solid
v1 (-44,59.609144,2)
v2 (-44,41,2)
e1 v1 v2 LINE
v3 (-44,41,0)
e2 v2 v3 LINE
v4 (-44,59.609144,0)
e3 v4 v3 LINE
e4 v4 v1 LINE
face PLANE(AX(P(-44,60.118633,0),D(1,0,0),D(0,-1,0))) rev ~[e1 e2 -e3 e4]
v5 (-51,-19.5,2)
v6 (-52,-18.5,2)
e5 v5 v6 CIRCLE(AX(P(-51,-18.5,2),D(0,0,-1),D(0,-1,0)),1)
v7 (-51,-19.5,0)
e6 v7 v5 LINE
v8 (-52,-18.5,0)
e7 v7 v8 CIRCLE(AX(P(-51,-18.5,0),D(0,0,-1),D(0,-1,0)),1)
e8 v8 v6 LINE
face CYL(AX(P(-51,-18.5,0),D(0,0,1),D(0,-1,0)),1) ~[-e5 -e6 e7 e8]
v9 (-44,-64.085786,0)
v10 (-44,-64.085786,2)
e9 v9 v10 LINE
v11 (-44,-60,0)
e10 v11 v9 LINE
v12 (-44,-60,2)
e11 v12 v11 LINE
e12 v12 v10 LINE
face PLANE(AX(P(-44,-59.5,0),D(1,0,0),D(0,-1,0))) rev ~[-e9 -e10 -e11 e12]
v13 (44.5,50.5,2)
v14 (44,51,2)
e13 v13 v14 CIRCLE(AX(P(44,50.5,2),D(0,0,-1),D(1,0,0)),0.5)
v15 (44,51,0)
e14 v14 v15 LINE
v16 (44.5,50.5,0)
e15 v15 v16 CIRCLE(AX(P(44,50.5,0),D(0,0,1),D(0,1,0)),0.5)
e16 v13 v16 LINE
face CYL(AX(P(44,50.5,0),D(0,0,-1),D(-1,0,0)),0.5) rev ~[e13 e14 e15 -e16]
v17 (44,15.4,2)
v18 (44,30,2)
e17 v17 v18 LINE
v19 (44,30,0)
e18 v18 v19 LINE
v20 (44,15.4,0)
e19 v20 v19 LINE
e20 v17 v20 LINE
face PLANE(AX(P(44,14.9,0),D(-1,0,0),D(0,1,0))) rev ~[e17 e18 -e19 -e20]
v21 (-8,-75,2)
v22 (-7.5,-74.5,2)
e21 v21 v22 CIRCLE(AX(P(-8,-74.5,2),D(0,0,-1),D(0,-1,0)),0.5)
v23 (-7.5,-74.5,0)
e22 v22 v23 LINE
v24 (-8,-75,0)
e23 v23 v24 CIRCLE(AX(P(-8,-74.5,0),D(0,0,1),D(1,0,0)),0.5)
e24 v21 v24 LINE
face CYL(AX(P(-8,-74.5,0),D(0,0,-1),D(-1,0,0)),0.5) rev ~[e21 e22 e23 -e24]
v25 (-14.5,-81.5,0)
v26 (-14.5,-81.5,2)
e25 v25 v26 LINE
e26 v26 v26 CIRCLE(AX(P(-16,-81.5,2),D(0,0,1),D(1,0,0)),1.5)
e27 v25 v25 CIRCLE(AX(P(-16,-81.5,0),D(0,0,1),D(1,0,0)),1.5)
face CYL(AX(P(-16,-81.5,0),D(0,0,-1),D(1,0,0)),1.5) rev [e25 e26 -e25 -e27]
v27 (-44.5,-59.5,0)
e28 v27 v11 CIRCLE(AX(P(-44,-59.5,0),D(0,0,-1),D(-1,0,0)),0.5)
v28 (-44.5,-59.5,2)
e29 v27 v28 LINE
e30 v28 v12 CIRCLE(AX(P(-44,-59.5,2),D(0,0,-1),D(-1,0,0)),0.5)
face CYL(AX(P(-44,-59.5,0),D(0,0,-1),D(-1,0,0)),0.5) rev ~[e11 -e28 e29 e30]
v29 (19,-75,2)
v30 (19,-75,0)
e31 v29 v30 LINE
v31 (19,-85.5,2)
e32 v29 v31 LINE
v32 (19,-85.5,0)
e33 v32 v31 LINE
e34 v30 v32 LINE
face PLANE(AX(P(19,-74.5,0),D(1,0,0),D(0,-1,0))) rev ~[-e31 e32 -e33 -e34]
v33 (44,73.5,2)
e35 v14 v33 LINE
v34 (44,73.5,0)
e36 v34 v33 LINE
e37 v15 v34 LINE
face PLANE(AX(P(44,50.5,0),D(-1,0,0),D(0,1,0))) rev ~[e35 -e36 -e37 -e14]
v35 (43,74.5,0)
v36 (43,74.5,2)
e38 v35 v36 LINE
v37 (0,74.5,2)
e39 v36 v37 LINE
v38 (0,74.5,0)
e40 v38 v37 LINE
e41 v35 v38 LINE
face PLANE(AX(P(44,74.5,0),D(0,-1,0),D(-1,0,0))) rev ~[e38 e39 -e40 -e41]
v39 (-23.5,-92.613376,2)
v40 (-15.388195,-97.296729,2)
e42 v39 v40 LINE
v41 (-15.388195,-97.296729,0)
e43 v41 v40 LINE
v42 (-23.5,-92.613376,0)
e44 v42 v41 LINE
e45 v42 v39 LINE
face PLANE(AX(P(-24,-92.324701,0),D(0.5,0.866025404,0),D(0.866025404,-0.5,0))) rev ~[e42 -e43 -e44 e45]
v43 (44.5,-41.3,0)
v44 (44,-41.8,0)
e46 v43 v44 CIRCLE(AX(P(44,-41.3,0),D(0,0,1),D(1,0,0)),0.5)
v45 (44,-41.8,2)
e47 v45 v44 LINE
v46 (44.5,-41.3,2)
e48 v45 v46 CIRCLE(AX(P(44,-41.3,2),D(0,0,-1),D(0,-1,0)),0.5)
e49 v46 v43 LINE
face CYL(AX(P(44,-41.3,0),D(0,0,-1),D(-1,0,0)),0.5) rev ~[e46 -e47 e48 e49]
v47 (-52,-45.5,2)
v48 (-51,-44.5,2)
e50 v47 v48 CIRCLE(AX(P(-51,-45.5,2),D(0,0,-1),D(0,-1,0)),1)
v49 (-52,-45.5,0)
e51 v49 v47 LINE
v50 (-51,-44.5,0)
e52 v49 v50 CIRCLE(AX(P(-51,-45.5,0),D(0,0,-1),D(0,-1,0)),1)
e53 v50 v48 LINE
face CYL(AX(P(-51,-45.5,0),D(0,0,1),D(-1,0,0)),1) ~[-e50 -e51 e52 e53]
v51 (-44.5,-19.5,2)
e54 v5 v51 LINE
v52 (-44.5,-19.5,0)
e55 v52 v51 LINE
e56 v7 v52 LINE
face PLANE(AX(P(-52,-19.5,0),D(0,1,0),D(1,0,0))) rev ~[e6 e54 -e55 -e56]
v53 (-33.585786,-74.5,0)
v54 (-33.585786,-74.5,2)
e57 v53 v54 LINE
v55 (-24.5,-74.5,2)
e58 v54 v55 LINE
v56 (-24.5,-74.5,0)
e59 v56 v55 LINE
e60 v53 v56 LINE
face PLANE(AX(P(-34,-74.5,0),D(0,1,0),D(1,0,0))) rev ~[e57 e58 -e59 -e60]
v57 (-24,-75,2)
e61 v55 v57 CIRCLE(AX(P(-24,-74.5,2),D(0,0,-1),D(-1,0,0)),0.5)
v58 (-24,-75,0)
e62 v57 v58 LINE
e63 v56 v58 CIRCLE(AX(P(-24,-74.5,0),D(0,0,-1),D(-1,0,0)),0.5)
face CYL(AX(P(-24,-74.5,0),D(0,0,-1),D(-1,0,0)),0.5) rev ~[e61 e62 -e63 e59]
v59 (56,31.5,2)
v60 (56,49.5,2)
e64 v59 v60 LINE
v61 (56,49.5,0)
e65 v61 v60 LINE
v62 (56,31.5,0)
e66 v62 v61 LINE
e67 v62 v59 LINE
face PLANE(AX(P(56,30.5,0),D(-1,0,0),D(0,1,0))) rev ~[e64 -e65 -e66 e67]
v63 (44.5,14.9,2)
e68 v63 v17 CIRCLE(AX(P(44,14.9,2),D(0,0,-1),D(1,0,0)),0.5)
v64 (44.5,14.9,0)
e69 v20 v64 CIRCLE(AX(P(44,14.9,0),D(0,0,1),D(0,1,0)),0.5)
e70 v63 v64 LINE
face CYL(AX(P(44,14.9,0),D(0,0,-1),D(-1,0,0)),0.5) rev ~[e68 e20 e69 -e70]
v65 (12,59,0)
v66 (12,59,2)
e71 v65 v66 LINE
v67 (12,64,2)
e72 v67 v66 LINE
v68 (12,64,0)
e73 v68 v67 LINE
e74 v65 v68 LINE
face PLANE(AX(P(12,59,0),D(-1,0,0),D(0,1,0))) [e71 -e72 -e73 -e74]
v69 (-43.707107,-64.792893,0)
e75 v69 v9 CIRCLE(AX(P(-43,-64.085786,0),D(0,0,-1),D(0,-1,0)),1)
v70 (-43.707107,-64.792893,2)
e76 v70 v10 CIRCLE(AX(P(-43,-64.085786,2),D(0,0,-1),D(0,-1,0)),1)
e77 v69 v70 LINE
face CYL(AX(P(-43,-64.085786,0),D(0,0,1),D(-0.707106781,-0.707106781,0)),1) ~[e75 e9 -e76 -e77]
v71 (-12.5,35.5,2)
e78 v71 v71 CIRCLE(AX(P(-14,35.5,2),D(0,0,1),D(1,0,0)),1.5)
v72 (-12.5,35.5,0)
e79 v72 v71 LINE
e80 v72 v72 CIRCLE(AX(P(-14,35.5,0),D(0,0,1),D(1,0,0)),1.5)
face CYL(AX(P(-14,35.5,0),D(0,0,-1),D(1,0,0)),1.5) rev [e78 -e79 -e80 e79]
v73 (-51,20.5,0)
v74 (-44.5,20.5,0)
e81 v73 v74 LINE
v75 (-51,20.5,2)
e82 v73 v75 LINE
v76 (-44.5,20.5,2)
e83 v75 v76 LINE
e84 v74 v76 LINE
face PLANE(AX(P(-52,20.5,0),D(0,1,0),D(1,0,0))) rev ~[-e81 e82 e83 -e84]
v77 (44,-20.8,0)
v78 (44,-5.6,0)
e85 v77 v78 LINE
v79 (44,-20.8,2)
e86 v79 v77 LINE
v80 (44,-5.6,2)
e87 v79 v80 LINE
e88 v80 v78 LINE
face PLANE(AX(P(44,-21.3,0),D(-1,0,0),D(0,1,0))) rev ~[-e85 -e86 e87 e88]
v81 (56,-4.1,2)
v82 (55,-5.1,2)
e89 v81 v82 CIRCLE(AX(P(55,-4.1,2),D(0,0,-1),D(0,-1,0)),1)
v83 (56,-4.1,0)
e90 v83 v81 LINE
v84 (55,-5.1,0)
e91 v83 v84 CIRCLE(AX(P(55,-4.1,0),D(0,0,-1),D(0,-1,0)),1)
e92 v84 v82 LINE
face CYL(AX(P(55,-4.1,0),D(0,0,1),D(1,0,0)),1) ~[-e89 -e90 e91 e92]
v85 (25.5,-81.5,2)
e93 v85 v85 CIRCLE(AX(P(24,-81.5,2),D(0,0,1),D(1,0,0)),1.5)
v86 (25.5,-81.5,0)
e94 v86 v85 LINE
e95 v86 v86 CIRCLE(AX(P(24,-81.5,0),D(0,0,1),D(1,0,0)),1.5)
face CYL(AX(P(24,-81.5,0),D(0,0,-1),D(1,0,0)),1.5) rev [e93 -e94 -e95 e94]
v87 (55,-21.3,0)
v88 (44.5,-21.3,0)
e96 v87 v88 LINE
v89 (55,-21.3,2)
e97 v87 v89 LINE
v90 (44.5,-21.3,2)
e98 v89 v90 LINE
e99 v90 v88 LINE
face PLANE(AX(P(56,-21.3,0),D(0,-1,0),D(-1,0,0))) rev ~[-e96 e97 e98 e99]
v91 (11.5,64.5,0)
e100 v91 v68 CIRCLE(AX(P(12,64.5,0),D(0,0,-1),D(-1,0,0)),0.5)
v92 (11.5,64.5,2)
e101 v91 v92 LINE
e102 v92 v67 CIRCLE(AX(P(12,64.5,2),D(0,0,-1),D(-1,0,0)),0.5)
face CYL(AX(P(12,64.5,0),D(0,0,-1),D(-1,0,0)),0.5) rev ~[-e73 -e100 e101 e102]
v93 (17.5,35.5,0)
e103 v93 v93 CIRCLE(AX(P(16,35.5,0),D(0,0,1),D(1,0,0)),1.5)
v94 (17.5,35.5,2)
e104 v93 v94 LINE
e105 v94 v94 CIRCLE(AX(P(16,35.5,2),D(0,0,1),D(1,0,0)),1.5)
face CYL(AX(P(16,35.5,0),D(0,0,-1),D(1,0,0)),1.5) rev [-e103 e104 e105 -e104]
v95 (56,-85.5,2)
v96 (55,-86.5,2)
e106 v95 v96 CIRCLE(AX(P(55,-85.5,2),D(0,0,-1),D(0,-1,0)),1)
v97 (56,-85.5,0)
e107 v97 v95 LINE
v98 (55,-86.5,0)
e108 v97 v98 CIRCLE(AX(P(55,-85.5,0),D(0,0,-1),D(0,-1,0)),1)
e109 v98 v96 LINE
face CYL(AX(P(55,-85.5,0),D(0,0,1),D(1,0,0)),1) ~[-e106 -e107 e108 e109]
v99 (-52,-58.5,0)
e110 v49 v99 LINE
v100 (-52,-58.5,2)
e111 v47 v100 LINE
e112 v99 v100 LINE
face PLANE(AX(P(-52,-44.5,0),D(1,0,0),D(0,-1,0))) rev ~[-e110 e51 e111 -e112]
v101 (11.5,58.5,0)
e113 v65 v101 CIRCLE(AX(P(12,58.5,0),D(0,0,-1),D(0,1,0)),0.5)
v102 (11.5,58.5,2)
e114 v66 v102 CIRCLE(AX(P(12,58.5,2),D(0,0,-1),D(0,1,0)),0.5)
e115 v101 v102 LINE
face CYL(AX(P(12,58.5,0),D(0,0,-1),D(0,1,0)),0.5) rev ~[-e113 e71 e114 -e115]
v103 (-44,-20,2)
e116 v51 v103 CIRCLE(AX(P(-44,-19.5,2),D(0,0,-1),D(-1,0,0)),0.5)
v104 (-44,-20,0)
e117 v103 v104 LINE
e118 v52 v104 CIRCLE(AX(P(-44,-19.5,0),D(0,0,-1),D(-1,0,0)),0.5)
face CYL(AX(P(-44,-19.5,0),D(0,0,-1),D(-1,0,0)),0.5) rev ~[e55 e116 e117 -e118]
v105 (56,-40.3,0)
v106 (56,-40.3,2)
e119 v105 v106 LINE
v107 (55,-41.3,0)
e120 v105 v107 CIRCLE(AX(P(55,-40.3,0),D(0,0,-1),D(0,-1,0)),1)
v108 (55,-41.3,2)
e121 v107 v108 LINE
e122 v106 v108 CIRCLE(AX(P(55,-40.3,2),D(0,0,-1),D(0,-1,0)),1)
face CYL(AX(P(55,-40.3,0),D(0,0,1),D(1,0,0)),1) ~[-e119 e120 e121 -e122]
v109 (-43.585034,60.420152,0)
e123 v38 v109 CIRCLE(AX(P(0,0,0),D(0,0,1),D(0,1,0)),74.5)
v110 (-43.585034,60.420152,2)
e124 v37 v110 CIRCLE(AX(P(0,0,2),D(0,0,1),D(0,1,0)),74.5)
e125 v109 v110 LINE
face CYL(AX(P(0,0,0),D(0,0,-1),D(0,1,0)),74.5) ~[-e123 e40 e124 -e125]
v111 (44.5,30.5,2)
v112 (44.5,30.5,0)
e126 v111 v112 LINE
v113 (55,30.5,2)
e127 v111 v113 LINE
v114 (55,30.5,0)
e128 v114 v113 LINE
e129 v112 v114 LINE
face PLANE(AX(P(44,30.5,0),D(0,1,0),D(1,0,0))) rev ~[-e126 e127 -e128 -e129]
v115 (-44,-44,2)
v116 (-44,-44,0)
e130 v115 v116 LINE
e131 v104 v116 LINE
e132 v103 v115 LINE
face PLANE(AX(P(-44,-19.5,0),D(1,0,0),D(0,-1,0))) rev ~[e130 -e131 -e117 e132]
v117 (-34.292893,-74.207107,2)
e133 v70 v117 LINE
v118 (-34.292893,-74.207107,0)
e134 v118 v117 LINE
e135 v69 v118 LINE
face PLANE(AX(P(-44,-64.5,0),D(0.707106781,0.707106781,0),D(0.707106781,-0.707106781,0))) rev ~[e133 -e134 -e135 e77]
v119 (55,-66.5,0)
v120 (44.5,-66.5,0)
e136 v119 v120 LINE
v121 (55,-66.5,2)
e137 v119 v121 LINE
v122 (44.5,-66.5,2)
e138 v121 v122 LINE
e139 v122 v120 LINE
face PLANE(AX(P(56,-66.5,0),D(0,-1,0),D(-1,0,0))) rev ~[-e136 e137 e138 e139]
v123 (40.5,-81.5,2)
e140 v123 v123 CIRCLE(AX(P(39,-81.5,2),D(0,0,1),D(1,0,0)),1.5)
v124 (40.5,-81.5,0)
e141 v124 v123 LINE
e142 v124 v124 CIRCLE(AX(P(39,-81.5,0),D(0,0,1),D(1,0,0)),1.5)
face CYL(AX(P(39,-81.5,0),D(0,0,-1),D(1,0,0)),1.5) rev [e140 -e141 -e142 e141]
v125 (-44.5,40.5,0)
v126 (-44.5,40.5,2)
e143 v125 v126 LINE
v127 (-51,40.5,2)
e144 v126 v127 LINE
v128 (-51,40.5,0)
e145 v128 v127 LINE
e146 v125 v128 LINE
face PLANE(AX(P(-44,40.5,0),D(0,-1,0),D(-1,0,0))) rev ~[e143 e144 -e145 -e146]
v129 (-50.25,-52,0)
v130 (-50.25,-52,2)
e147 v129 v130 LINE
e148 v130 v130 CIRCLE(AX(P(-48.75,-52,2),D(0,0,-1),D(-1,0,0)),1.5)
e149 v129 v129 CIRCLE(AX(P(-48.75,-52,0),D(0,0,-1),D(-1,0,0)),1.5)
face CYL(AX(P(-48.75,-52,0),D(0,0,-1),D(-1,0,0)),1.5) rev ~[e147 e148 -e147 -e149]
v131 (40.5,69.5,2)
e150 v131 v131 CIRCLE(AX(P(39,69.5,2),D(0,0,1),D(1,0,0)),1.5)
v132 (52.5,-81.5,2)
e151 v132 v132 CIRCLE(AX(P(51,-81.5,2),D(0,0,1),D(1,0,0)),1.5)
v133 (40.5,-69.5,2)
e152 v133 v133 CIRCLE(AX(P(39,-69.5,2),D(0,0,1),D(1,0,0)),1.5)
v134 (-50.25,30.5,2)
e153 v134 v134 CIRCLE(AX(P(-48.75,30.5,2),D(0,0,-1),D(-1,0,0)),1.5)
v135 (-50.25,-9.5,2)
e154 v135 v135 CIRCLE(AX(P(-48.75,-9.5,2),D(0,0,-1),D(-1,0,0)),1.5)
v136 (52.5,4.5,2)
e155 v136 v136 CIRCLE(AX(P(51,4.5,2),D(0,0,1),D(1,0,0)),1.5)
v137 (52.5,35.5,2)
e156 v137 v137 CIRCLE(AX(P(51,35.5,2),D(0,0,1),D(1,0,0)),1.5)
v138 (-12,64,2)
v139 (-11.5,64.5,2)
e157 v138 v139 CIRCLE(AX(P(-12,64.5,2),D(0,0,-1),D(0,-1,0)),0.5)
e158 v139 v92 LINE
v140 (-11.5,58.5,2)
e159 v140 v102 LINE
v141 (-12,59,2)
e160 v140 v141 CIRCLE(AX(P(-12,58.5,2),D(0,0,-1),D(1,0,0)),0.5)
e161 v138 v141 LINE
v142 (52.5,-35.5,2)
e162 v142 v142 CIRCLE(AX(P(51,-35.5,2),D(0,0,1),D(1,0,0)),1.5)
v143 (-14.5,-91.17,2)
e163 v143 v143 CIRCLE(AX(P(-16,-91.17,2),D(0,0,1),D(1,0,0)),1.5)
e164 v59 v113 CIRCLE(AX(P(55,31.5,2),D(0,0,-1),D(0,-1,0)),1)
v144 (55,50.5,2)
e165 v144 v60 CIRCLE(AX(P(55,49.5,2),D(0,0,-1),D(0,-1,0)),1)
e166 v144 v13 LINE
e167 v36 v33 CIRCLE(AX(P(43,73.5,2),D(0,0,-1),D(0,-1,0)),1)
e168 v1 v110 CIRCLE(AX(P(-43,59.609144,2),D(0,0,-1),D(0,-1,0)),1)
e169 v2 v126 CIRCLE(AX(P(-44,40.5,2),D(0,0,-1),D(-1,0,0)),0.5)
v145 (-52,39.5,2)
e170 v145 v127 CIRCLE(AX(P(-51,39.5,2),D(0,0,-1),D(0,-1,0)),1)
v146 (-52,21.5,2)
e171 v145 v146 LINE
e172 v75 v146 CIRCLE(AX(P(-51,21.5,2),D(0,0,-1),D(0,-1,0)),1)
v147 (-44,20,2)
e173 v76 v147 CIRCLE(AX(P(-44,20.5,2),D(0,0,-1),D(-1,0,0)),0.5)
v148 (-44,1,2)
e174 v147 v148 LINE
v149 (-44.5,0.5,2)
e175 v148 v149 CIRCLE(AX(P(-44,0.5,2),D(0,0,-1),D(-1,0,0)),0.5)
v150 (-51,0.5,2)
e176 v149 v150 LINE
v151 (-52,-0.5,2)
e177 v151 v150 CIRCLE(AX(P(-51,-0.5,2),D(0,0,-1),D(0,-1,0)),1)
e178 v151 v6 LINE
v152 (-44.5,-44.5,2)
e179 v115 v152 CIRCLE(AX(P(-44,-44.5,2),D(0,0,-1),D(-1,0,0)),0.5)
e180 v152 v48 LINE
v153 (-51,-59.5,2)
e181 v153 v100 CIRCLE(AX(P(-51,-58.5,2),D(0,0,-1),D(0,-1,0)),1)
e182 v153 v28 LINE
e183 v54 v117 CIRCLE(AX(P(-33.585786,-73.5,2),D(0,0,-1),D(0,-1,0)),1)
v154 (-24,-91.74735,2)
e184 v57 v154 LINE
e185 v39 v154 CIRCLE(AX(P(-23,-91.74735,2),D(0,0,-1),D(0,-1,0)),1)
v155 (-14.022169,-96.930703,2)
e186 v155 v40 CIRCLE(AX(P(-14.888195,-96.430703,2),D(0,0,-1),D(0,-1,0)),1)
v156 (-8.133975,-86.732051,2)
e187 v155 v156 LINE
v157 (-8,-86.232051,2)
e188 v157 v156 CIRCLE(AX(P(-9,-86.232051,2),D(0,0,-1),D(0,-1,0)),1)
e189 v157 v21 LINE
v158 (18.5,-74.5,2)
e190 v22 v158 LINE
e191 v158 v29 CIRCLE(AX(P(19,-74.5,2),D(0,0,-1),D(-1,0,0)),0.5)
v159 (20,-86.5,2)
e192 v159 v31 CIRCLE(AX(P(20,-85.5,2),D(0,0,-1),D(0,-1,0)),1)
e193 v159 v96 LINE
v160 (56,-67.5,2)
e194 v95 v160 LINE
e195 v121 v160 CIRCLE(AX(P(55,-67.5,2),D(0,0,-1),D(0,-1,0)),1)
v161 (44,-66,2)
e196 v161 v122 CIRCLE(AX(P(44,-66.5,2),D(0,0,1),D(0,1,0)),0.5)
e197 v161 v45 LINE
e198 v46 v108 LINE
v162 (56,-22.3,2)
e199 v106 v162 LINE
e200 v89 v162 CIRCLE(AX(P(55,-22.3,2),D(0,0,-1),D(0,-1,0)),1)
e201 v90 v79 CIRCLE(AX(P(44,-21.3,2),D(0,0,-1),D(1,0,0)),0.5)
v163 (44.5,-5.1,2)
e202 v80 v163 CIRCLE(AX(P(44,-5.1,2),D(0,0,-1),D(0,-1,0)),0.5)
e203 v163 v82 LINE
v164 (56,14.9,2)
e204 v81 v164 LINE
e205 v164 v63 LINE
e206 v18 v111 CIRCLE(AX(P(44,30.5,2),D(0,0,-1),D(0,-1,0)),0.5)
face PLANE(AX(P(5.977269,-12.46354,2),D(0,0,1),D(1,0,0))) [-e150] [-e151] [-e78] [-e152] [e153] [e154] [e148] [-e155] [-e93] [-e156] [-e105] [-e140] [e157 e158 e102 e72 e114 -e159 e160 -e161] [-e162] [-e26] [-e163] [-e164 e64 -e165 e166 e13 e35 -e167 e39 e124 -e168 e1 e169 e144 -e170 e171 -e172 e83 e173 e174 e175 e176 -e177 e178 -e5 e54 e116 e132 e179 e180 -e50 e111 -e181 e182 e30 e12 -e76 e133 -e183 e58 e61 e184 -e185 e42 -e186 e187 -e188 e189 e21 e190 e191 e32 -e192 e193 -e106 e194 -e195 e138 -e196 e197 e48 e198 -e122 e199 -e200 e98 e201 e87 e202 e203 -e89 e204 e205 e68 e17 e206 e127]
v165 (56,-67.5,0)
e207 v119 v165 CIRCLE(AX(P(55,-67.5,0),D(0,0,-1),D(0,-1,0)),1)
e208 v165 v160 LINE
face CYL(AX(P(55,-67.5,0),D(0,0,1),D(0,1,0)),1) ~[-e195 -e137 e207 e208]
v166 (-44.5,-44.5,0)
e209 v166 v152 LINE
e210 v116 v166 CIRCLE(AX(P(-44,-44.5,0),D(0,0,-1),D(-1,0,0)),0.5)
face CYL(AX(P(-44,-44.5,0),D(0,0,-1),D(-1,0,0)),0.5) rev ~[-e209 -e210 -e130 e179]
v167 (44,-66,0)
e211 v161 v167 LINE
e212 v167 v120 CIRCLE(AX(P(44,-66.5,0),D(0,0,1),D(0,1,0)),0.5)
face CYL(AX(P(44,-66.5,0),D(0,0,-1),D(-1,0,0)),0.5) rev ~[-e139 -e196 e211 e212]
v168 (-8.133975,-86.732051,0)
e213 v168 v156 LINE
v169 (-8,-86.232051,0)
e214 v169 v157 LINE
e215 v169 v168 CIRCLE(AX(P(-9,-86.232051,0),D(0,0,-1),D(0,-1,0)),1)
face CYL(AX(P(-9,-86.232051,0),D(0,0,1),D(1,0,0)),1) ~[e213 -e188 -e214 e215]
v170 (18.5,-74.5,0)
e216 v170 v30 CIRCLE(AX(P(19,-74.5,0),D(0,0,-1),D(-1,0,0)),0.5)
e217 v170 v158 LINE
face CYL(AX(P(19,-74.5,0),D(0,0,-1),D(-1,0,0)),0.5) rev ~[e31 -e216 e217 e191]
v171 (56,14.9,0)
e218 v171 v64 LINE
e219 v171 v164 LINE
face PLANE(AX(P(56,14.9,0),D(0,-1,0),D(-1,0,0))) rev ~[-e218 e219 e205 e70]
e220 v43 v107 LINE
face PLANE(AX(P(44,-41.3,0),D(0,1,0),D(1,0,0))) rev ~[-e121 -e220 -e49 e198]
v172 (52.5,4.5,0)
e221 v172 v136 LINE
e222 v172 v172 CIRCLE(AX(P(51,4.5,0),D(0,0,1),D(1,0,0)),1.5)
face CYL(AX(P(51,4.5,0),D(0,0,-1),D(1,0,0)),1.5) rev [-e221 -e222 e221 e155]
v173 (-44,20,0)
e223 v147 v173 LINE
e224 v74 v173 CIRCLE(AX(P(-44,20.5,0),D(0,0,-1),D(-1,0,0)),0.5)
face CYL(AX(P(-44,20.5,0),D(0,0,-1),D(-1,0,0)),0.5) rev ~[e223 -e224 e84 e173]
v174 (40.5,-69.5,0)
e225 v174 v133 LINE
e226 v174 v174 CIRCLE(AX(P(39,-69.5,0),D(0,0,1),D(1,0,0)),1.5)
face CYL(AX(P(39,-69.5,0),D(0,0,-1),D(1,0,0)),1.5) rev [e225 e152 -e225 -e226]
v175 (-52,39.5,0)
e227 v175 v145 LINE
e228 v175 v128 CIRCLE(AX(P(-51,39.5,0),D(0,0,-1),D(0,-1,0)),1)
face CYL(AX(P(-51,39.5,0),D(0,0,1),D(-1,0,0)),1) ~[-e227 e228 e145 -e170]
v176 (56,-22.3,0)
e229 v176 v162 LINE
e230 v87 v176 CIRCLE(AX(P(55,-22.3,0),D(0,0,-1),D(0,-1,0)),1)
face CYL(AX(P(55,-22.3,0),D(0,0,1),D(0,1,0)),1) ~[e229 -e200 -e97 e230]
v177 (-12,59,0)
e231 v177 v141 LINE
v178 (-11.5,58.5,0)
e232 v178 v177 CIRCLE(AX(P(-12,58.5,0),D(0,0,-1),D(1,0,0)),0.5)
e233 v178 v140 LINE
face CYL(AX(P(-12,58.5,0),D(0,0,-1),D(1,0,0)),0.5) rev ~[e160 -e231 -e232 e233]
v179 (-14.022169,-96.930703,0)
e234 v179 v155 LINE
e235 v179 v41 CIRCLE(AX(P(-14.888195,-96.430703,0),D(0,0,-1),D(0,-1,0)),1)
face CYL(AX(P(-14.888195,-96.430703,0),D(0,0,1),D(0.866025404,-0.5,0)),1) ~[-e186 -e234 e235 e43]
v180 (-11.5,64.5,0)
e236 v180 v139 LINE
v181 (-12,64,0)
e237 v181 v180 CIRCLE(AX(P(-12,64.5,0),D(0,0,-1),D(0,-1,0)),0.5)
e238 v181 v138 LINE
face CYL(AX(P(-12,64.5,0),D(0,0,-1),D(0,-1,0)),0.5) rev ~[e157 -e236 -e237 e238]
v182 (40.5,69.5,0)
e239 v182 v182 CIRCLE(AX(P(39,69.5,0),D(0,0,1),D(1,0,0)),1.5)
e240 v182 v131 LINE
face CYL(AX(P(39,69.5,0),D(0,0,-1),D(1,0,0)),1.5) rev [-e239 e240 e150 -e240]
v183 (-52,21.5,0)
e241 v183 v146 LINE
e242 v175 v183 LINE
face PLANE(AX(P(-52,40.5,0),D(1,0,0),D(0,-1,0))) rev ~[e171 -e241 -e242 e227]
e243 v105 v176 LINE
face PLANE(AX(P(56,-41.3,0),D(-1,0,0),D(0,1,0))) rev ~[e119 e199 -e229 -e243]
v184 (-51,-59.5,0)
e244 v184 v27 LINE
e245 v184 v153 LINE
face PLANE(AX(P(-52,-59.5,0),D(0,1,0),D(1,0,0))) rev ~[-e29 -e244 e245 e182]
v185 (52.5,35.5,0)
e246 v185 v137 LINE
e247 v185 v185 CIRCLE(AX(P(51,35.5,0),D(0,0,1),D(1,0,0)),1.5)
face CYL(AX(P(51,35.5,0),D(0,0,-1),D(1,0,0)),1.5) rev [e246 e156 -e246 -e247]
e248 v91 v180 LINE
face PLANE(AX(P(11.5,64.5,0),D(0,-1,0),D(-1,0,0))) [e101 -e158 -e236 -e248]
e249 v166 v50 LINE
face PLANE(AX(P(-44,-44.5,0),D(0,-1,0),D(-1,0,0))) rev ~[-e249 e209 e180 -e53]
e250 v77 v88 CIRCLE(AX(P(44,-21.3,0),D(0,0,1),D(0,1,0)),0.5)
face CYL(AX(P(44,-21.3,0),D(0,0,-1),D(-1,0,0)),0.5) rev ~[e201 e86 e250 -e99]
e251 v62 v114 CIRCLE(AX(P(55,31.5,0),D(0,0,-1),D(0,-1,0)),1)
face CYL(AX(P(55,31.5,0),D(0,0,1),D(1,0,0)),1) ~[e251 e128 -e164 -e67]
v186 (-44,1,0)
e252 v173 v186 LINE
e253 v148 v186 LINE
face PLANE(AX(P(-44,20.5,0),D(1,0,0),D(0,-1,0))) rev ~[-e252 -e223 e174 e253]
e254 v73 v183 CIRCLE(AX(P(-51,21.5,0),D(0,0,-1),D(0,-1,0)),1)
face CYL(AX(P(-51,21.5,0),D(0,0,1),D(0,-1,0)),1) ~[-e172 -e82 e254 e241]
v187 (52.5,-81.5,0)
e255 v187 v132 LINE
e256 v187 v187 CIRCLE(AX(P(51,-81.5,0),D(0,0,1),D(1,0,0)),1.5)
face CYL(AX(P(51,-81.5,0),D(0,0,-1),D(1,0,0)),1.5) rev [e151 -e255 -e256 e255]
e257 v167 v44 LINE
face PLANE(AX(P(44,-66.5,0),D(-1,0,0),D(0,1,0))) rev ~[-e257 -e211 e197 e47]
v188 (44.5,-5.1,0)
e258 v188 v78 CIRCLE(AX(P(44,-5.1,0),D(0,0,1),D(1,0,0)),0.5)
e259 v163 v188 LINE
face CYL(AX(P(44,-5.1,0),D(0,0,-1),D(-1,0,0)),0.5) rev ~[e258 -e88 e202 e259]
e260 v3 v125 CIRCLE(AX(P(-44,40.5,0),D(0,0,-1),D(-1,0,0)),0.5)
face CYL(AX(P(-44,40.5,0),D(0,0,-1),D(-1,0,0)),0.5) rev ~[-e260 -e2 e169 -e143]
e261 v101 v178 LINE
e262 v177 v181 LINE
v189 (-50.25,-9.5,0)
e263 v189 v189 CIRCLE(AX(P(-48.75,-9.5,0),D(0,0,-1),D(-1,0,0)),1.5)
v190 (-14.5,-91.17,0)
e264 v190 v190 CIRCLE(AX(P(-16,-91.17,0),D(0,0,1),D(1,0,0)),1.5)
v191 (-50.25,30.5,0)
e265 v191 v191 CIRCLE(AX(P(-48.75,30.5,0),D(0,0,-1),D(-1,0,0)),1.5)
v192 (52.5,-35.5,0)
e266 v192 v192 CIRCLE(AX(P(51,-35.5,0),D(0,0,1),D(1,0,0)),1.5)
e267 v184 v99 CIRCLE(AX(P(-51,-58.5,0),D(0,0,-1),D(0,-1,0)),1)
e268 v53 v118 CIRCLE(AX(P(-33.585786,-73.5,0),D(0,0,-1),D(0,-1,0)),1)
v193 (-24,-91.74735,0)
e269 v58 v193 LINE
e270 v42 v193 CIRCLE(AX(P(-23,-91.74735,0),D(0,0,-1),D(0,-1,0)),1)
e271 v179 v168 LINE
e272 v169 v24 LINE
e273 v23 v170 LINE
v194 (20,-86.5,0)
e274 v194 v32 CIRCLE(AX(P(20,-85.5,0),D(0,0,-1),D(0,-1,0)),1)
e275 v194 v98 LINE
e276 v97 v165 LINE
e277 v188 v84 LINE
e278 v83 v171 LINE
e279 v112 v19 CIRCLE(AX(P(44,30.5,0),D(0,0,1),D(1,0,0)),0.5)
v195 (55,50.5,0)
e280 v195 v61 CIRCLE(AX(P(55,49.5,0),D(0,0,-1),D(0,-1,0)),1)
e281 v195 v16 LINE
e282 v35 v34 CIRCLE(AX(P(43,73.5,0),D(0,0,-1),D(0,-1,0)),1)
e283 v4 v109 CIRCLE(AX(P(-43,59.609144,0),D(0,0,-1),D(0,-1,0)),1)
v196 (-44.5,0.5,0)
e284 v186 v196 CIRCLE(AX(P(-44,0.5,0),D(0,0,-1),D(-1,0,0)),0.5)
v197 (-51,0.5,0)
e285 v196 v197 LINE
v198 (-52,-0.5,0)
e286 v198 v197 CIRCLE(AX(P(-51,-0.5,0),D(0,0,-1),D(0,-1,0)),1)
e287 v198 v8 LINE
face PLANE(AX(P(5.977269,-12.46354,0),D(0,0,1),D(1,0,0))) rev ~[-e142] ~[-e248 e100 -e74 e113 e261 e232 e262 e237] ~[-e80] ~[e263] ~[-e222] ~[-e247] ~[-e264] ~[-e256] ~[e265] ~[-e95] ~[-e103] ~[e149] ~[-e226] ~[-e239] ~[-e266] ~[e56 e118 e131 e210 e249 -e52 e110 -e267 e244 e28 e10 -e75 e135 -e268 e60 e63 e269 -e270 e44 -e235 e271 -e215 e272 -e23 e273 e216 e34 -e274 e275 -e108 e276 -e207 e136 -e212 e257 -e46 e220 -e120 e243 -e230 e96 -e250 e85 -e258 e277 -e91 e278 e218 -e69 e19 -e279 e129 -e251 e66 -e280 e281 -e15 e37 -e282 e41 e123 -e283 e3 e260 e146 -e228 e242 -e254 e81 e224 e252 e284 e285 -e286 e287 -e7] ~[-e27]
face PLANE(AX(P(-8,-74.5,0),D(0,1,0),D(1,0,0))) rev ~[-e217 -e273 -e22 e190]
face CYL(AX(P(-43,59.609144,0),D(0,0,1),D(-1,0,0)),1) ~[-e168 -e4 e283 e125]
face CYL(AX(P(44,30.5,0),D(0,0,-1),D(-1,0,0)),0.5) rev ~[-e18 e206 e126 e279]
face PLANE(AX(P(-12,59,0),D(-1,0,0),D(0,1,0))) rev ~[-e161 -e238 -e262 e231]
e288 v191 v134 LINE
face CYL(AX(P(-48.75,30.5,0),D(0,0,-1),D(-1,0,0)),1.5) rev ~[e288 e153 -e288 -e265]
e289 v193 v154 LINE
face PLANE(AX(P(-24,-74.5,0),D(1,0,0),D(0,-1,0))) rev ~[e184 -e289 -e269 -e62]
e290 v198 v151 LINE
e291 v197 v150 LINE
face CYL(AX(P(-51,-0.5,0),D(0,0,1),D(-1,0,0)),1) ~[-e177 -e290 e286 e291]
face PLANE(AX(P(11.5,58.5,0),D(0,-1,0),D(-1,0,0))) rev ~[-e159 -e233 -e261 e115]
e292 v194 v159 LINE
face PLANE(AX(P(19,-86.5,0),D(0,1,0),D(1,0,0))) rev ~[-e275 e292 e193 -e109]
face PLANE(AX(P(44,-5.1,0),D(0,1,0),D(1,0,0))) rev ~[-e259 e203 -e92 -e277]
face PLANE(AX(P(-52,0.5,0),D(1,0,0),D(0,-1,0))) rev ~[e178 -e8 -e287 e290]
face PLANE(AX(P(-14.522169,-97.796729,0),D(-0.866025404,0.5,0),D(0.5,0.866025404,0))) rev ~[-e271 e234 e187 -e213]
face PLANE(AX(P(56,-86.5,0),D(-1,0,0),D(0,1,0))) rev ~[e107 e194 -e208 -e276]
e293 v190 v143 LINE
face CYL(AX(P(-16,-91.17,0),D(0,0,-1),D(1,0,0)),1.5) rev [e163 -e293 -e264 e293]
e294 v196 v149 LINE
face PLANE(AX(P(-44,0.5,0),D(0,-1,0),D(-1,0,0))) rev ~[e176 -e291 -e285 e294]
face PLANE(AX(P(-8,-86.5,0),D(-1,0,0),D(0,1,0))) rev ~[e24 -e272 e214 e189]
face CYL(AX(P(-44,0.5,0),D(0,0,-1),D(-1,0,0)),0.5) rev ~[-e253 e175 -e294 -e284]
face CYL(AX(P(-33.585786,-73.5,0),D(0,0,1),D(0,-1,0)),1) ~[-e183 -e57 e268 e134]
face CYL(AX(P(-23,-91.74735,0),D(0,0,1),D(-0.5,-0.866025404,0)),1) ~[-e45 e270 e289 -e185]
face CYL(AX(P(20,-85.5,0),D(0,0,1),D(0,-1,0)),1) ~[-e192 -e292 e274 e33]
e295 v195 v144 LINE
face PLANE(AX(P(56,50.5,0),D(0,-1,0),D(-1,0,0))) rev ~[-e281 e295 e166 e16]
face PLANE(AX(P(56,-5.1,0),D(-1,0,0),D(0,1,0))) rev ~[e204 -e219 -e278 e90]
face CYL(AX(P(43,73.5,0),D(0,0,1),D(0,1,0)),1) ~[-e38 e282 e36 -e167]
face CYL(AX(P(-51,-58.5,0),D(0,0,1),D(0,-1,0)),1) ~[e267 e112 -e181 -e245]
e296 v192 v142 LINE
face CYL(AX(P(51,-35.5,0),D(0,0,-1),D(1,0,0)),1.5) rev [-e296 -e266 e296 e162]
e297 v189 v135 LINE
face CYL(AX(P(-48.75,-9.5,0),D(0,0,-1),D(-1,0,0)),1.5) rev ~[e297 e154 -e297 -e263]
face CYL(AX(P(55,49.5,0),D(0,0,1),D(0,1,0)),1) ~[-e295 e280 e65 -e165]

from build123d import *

# Parameters (mm, degrees)
SKETCH_1_R          = 1.5
EXTRUDE_2_DEPTH     = 2
SKETCH_2_R          = 1.5
CUT_EXTRUDE_1_DEPTH = 10
SKETCH_3_R          = 0.5
CUT_EXTRUDE_2_DEPTH = 3
FILLET_1_R          = 1
SKETCH_4_R          = 0.5
SKETCH_4_W          = 24
SKETCH_4_H          = 6
CUT_EXTRUDE_3_DEPTH = 3


with BuildPart() as part:
    # 草图1 → 凸台-拉伸2 (new body)
    with BuildSketch(Plane.XY):
        with BuildLine():
            Line((56, -66.5), (44, -66.5))
            Line((44, -66.5), (44, -41.3))
            Line((44, -41.3), (56, -41.3))
            Line((56, -41.3), (56, -21.3))
            Line((56, -21.3), (44, -21.3))
            Line((44, -21.3), (44, -5.1))
            Line((44, -5.1), (56, -5.1))
            Line((56, -5.1), (56, 14.9))
            Line((56, 14.9), (44, 14.9))
            Line((44, 14.9), (44, 30.5))
            Line((44, 30.5), (56, 30.5))
            Line((56, 30.5), (56, 50.5))
            Line((56, 50.5), (44, 50.5))
            Line((44, 50.5), (44, 74.5))
            Line((44, 74.5), (0, 74.5))
            ThreePointArc((0, 74.5), (-23.145322016, 70.813445537), (-44, 60.118632719))
            Line((-44, 60.118632719), (-44, 40.5))
            Line((-44, 40.5), (-52, 40.5))
            Line((-52, 40.5), (-52, 20.5))
            Line((-52, 20.5), (-44, 20.5))
            Line((-44, 20.5), (-44, 0.5))
            Line((-44, 0.5), (-52, 0.5))
            Line((-52, 0.5), (-52, -19.5))
            Line((-52, -19.5), (-44, -19.5))
            Line((-44, -19.5), (-44, -44.5))
            Line((-44, -44.5), (-52, -44.5))
            Line((-52, -44.5), (-52, -59.5))
            Line((-52, -59.5), (-44, -59.5))
            Line((-44, -59.5), (-44, -64.5))
            Line((-44, -64.5), (-34, -74.5))
            Line((-34, -74.5), (-24, -74.5))
            Line((-24, -74.5), (-24, -92.324700538))
            Line((-24, -92.324700538), (-14.522169318, -97.796728634))
            Line((-14.522169318, -97.796728634), (-8, -86.5))
            Line((-8, -86.5), (-8, -74.5))
            Line((-8, -74.5), (19, -74.5))
            Line((19, -74.5), (19, -86.5))
            Line((19, -86.5), (56, -86.5))
            Line((56, -86.5), (56, -66.5))
        make_face()
        with Locations((24, -81.5)):
            Circle(SKETCH_1_R, mode=Mode.SUBTRACT)
        with Locations((39, -81.5)):
            Circle(SKETCH_1_R, mode=Mode.SUBTRACT)
        with Locations((51, -81.5)):
            Circle(SKETCH_1_R, mode=Mode.SUBTRACT)
        with Locations((16, 35.5)):
            Circle(SKETCH_1_R, mode=Mode.SUBTRACT)
        with Locations((39, 69.5)):
            Circle(SKETCH_1_R, mode=Mode.SUBTRACT)
        with Locations((39, -69.5)):
            Circle(SKETCH_1_R, mode=Mode.SUBTRACT)
        with Locations((-14, 35.5)):
            Circle(SKETCH_1_R, mode=Mode.SUBTRACT)
        with Locations((-16, -81.5)):
            Circle(SKETCH_1_R, mode=Mode.SUBTRACT)
        with Locations((-16, -91.17)):
            Circle(SKETCH_1_R, mode=Mode.SUBTRACT)
        with Locations((51, -35.5)):
            Circle(SKETCH_1_R, mode=Mode.SUBTRACT)
        with Locations((51, 4.5)):
            Circle(SKETCH_1_R, mode=Mode.SUBTRACT)
        with Locations((51, 35.5)):
            Circle(SKETCH_1_R, mode=Mode.SUBTRACT)
    extrude(amount=EXTRUDE_2_DEPTH)

    # 草图2 → 切除-拉伸1 (cut)
    with BuildSketch(Plane(origin=(0, 0, 0), x_dir=(-1, 0, 0), z_dir=(0, 0, -1))):
        with Locations((48.75, 30.5)):
            Circle(SKETCH_2_R)
        with Locations((48.75, -9.5)):
            Circle(SKETCH_2_R)
        with Locations((48.75, -52)):
            Circle(SKETCH_2_R)
    extrude(amount=-CUT_EXTRUDE_1_DEPTH, mode=Mode.SUBTRACT)

    # 草图3 → 切除-拉伸2 (cut, through all)
    with BuildSketch(Plane(origin=(0, 0, 0), x_dir=(-1, 0, 0), z_dir=(0, 0, -1))):
        with Locations((-44, 50.5)):
            Circle(SKETCH_3_R)
        with Locations((-44, 30.5)):
            Circle(SKETCH_3_R)
        with Locations((-44, 14.9)):
            Circle(SKETCH_3_R)
        with Locations((-44, -5.1)):
            Circle(SKETCH_3_R)
        with Locations((-44, -21.3)):
            Circle(SKETCH_3_R)
        with Locations((-44, -41.3)):
            Circle(SKETCH_3_R)
        with Locations((-44, -66.5)):
            Circle(SKETCH_3_R)
        with Locations((44, 40.5)):
            Circle(SKETCH_3_R)
        with Locations((44, 20.5)):
            Circle(SKETCH_3_R)
        with Locations((44, 0.5)):
            Circle(SKETCH_3_R)
        with Locations((44, -19.5)):
            Circle(SKETCH_3_R)
        with Locations((44, -44.5)):
            Circle(SKETCH_3_R)
        with Locations((44, -59.5)):
            Circle(SKETCH_3_R)
        with Locations((-19, -74.5)):
            Circle(SKETCH_3_R)
        with Locations((8, -74.5)):
            Circle(SKETCH_3_R)
        with Locations((24, -74.5)):
            Circle(SKETCH_3_R)
    extrude(amount=-CUT_EXTRUDE_2_DEPTH, mode=Mode.SUBTRACT)

    # 圆角1
    fillet_1_edges = [part.edges().sort_by_distance(p)[0] for p in [
        (-8, -86.5, 1),
        (-14.522169318, -97.796728634, 1),
        (-24, -92.324700538, 1),
        (-34, -74.5, 1),
        (-44, -64.5, 1),
        (-52, -59.5, 1),
        (-52, -44.5, 1),
        (-52, -19.5, 1),
        (-52, 0.5, 1),
        (-52, 20.5, 1),
        (-52, 40.5, 1),
        (-44, 60.118632719, 1),
        (44, 74.5, 1),
        (56, 50.5, 1),
        (56, 30.5, 1),
        (56, -5.1, 1),
        (56, -21.3, 1),
        (56, -41.3, 1),
        (56, -66.5, 1),
        (56, -86.5, 1),
        (19, -86.5, 1),
    ]]
    fillet(fillet_1_edges, radius=FILLET_1_R)

    # 草图4 → 切除-拉伸3 (cut, through all)
    with BuildSketch(Plane(origin=(0, 0, 0), x_dir=(-1, 0, 0), z_dir=(0, 0, -1))):
        with BuildLine():
            Line((-12, 64), (-12, 64.5))
            Line((-12, 64.5), (-11.5, 64.5))
            ThreePointArc((-11.5, 64.5), (-12.353553391, 64.853553391), (-12, 64))
        make_face()
        with BuildLine():
            Line((-11.5, 64.5), (-12, 64.5))
            Line((-12, 64.5), (-12, 64))
            ThreePointArc((-12, 64), (-11.646446609, 64.146446609), (-11.5, 64.5))
        make_face()
        with BuildLine():
            ThreePointArc((-11.5, 58.5), (-11.646446609, 58.853553391), (-12, 59))
            Line((-12, 59), (-12, 58.5))
            Line((-12, 58.5), (-11.5, 58.5))
        make_face()
        with BuildLine():
            Line((-12, 58.5), (-12, 59))
            ThreePointArc((-12, 59), (-12.353553391, 58.146446609), (-11.5, 58.5))
            Line((-11.5, 58.5), (-12, 58.5))
        make_face()
        with Locations((12, 58.5)):
            Circle(SKETCH_4_R)
        with Locations((12, 64.5)):
            Circle(SKETCH_4_R)
        with Locations((-12, 64.5)):
            Circle(SKETCH_4_R)
        with Locations((-12, 58.5)):
            Circle(SKETCH_4_R)
        with Locations((0, 61.5)):
            Rectangle(SKETCH_4_W, SKETCH_4_H)
        with BuildLine():
            ThreePointArc((12.5, 64.5), (12, 65), (11.5, 64.5))
            Line((11.5, 64.5), (12, 64.5))
            Line((12, 64.5), (12, 64))
            ThreePointArc((12, 64), (12.353553391, 64.146446609), (12.5, 64.5))
        make_face()
        with BuildLine():
            Line((12, 64.5), (11.5, 64.5))
            ThreePointArc((11.5, 64.5), (11.646446609, 64.146446609), (12, 64))
            Line((12, 64), (12, 64.5))
        make_face()
        with BuildLine():
            ThreePointArc((12.5, 58.5), (12.353553391, 58.853553391), (12, 59))
            Line((12, 59), (12, 58.5))
            Line((12, 58.5), (11.5, 58.5))
            ThreePointArc((11.5, 58.5), (12, 58), (12.5, 58.5))
        make_face()
        with BuildLine():
            Line((12, 58.5), (12, 59))
            ThreePointArc((12, 59), (11.646446609, 58.853553391), (11.5, 58.5))
            Line((11.5, 58.5), (12, 58.5))
        make_face()
    extrude(amount=-CUT_EXTRUDE_3_DEPTH, mode=Mode.SUBTRACT)


solid = part.part
